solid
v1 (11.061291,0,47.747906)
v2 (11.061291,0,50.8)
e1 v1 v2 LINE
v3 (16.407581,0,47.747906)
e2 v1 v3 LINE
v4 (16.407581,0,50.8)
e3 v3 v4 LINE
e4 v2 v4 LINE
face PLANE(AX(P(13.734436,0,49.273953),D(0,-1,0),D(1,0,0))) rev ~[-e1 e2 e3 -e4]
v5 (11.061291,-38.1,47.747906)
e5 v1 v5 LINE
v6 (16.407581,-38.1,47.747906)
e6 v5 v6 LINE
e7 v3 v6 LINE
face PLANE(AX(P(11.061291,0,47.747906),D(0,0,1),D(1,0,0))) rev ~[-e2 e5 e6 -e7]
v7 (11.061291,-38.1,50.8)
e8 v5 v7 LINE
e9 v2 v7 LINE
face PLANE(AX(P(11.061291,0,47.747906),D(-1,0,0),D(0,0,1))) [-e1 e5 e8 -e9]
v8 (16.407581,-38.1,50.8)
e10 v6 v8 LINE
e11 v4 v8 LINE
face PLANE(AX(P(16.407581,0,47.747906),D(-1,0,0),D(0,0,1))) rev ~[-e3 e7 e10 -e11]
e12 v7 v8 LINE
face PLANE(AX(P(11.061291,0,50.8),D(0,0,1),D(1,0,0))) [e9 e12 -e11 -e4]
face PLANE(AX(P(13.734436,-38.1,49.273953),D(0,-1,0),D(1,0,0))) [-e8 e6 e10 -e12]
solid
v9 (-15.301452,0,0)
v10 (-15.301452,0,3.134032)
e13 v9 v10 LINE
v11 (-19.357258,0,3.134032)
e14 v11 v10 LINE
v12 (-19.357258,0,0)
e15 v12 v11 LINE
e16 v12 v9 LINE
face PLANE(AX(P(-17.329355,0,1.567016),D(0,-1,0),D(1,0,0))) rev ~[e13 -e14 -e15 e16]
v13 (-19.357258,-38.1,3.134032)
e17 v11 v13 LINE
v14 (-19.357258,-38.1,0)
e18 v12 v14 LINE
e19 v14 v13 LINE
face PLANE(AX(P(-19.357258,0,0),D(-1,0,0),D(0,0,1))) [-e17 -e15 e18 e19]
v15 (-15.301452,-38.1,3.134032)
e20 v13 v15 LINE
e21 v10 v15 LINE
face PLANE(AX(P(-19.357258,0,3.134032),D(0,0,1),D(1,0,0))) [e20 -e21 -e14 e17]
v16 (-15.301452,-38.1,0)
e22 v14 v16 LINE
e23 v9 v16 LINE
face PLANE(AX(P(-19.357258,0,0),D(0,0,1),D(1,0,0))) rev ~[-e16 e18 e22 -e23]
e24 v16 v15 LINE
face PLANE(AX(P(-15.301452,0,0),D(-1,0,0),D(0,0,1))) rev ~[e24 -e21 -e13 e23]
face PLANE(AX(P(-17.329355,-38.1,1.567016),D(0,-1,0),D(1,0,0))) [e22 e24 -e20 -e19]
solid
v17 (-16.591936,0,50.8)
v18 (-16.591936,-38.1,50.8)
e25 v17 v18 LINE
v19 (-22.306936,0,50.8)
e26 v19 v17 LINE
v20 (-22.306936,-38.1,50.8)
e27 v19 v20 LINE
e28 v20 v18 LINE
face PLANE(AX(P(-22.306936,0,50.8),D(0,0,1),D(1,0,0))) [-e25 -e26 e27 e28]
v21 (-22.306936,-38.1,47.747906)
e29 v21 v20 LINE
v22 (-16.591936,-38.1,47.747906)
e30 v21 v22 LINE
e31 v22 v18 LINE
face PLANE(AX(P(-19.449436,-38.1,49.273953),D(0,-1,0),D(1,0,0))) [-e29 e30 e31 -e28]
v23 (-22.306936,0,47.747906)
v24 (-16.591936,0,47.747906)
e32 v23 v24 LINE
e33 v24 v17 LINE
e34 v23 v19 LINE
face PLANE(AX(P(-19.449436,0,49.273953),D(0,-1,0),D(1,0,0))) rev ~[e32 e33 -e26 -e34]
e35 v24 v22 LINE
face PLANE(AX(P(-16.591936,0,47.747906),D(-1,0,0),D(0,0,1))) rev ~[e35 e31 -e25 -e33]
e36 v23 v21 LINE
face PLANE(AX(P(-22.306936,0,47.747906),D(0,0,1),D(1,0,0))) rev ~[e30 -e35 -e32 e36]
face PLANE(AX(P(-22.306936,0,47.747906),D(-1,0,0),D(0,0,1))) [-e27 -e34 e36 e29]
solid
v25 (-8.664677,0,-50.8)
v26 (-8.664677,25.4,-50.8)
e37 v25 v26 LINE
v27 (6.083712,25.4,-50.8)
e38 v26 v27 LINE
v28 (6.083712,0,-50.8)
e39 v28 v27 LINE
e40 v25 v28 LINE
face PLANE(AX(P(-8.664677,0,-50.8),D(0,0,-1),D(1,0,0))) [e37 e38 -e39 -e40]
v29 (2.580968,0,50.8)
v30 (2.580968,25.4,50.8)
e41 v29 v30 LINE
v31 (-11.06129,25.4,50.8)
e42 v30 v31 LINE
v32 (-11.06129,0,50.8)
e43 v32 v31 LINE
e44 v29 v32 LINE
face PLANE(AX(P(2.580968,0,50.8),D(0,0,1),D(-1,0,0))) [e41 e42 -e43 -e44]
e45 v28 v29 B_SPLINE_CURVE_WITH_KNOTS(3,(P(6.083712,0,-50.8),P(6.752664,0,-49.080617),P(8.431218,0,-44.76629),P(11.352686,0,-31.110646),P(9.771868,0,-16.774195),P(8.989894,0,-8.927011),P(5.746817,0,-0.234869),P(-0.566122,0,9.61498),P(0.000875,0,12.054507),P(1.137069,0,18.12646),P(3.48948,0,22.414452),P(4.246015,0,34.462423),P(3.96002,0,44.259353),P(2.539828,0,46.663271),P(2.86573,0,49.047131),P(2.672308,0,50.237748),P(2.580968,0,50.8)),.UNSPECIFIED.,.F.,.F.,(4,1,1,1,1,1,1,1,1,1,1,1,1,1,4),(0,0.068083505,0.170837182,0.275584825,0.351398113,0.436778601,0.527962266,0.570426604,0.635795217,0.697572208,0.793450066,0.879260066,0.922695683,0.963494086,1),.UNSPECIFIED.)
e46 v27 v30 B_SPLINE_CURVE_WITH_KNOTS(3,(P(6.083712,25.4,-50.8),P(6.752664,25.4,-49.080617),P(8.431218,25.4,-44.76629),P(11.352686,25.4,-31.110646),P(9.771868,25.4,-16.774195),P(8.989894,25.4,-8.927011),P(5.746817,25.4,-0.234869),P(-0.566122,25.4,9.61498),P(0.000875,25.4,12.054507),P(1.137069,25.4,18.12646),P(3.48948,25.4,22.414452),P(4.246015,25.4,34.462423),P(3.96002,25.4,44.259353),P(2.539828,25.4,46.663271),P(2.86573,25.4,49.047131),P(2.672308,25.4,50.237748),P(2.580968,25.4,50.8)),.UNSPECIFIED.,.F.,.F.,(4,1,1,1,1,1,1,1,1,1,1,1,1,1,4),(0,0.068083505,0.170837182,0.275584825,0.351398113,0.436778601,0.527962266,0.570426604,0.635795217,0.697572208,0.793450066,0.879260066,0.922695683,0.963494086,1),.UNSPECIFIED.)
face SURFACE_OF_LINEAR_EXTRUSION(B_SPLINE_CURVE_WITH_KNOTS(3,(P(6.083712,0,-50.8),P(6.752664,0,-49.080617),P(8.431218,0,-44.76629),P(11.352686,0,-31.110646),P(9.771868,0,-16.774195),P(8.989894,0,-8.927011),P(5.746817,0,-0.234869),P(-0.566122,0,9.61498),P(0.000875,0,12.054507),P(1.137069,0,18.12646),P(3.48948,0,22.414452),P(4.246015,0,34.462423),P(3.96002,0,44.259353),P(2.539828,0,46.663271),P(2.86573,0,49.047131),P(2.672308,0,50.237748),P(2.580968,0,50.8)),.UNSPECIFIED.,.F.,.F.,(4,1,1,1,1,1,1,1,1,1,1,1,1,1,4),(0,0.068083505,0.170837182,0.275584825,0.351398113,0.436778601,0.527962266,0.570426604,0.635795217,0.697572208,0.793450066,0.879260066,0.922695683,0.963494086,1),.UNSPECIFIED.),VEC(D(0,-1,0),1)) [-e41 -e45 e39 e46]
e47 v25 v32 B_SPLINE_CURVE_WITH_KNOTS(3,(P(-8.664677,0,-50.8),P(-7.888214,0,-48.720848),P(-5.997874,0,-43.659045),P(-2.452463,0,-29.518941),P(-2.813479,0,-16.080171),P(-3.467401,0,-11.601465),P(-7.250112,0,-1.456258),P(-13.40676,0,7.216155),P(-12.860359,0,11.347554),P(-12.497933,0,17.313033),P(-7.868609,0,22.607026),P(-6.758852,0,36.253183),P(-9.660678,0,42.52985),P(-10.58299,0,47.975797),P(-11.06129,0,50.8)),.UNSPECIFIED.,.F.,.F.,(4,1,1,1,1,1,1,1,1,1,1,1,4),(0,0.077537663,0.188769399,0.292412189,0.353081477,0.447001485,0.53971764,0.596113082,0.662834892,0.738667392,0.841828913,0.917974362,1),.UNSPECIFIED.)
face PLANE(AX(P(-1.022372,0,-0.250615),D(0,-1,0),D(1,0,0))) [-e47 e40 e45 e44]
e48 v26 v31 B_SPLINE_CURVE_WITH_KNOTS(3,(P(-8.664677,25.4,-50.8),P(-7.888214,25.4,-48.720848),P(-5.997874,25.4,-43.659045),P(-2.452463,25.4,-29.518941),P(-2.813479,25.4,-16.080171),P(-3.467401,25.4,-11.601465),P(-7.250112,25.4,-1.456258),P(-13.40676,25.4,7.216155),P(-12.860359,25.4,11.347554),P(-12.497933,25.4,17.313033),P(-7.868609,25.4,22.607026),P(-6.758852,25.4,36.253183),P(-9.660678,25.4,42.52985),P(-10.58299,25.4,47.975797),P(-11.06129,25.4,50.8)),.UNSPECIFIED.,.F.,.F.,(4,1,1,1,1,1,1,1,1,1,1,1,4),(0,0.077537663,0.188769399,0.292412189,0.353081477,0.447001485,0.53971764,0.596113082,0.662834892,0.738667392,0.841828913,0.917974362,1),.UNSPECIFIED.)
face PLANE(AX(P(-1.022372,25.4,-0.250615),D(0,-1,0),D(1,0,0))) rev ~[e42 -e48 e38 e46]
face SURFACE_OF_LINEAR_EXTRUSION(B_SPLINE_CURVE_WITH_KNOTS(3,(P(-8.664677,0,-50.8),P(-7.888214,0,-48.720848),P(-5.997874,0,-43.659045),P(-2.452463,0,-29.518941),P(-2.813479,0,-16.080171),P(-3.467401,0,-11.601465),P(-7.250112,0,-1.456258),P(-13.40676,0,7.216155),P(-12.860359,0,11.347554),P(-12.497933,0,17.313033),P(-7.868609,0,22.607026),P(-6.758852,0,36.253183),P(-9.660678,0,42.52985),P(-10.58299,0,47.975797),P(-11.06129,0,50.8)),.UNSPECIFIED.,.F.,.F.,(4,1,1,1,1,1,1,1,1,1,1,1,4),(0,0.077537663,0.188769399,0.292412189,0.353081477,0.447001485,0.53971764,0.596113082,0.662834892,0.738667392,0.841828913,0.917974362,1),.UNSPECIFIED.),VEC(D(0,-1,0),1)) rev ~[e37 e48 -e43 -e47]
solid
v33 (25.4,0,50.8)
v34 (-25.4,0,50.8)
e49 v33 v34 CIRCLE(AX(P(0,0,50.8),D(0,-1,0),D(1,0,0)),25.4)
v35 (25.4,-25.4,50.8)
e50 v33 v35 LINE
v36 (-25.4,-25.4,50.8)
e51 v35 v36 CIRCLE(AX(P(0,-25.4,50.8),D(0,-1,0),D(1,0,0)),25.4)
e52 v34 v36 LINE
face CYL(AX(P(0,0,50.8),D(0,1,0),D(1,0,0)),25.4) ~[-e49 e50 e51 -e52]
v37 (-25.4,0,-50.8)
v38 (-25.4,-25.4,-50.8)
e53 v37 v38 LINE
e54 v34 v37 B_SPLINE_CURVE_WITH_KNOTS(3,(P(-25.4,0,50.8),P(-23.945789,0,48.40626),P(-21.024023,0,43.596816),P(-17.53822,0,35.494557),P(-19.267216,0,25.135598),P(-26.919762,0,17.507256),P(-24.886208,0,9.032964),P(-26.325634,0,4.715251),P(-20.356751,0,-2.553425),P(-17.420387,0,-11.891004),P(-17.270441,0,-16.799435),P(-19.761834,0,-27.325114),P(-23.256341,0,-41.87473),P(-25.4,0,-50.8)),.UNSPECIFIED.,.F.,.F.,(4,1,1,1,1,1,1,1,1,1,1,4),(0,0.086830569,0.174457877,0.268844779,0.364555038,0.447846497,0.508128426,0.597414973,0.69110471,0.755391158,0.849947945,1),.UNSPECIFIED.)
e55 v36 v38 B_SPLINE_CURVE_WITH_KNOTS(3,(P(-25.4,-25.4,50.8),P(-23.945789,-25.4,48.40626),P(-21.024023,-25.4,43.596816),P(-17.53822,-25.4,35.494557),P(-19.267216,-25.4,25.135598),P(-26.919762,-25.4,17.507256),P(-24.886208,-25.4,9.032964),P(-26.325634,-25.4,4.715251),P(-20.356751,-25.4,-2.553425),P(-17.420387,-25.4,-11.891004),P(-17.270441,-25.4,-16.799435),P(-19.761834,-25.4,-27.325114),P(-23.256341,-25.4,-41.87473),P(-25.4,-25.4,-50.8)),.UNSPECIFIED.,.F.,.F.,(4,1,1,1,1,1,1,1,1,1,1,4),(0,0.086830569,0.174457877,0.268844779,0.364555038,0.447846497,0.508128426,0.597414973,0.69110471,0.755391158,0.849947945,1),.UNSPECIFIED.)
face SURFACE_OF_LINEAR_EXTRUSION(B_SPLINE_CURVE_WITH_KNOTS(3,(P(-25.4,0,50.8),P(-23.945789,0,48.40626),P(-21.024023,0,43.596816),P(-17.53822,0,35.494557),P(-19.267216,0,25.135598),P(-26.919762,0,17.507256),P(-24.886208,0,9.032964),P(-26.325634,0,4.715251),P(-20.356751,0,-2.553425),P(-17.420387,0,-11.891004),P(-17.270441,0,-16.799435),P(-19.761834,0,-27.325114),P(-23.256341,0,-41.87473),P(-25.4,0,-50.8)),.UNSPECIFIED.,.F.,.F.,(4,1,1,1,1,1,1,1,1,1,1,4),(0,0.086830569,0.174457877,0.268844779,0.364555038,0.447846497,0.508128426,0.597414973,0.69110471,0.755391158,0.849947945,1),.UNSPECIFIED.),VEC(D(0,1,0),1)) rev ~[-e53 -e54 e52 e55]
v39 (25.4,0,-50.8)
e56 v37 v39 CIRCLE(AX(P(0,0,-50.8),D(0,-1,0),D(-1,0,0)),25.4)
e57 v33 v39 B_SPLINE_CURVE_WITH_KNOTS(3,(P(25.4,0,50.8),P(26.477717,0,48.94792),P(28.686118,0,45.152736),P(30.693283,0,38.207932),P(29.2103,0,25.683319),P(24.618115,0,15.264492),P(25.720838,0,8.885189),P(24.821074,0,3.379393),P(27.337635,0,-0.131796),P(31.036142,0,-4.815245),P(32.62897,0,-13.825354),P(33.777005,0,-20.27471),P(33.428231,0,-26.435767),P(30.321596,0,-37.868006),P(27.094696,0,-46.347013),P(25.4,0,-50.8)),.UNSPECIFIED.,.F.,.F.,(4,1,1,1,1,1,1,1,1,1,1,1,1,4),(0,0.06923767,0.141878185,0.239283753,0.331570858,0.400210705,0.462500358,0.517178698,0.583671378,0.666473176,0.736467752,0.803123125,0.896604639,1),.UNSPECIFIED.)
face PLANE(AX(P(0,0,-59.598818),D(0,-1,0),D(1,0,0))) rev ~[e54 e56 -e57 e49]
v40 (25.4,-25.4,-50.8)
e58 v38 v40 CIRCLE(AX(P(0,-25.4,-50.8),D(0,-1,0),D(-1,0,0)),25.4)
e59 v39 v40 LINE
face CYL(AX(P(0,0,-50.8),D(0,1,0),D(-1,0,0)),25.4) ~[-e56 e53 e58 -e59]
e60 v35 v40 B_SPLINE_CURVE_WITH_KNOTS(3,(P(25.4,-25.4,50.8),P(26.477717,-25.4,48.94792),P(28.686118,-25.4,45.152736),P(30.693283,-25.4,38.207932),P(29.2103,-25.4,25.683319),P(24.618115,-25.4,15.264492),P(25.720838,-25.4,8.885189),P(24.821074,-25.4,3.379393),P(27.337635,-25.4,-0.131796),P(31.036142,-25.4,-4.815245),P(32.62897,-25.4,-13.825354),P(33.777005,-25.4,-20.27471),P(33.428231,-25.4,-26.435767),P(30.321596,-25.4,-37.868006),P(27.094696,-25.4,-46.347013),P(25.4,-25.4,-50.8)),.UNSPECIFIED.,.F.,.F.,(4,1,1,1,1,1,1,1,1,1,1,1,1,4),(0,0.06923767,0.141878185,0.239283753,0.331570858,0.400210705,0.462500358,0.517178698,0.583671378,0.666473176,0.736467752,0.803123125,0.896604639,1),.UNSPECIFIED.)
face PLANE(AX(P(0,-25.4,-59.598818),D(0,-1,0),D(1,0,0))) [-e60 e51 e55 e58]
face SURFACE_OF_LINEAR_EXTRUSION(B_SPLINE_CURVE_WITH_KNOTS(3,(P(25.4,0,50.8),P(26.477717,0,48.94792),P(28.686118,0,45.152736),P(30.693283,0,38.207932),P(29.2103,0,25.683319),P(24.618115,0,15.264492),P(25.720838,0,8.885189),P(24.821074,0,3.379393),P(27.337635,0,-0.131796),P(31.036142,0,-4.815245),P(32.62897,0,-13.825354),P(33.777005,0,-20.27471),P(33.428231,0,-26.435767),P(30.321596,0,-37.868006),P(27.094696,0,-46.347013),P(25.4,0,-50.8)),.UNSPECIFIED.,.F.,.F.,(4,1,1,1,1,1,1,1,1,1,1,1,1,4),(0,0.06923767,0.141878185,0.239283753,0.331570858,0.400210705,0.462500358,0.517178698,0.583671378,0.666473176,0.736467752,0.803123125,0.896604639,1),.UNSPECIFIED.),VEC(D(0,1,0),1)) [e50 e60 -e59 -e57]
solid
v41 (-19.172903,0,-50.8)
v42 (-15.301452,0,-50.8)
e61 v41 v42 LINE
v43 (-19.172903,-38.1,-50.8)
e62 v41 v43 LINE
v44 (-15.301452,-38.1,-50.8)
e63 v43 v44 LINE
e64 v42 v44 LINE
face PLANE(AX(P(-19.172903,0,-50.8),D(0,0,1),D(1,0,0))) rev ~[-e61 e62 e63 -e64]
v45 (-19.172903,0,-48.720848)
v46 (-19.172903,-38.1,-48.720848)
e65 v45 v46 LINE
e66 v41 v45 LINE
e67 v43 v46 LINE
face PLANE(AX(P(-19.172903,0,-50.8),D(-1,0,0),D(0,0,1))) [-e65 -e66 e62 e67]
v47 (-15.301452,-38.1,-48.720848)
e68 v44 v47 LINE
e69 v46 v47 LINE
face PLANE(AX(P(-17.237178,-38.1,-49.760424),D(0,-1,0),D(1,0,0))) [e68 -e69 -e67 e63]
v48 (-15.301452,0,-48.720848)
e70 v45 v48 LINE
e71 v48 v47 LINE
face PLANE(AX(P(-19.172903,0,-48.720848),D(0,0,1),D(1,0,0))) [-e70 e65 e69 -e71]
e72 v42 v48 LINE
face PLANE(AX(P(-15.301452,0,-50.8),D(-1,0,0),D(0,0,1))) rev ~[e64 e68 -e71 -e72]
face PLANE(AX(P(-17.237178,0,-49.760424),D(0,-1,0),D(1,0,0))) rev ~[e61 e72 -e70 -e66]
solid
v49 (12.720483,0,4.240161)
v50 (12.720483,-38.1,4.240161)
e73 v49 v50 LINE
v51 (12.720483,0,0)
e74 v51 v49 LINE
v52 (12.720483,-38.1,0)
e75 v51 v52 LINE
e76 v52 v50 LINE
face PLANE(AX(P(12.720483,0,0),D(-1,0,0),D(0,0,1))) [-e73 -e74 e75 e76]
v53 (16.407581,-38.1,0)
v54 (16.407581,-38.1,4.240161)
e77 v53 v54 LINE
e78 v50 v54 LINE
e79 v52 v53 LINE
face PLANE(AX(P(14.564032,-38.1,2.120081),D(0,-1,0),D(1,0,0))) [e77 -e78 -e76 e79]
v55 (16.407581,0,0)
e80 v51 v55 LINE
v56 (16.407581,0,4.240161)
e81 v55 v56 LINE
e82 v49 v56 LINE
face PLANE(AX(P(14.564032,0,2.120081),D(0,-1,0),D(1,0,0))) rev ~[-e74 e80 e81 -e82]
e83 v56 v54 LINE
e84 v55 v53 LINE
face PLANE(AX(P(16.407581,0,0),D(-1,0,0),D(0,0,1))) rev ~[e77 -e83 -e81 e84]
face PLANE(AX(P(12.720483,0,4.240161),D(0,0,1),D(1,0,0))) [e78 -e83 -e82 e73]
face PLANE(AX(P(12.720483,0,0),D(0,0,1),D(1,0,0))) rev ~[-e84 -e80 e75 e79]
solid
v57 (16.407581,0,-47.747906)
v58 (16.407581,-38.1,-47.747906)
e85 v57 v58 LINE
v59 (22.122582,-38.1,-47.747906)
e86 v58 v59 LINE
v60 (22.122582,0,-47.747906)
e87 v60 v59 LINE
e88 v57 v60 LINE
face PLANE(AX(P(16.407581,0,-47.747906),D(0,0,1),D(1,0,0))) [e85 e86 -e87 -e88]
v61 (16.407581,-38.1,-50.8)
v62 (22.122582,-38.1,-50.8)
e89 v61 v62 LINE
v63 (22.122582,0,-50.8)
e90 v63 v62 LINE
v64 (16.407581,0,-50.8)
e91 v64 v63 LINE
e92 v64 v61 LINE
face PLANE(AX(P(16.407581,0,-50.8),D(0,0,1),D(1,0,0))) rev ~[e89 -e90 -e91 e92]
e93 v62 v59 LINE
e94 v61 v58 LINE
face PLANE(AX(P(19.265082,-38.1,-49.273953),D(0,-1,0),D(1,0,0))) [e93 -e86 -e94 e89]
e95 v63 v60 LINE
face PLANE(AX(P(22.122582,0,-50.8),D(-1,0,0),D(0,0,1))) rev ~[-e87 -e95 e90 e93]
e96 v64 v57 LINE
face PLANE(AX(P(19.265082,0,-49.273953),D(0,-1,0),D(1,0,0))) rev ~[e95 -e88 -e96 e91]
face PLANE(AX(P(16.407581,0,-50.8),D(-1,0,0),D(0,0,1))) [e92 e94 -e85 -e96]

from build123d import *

# Parameters (mm, degrees)
F0_W     = 3.687097691
F0_H     = 4.2401612736
F0_W_2   = 4.0558064356
F0_H_2   = 3.1340322457
F0_W_3   = 5.7149995118
F0_H_3   = 3.0520937026
F0_W_4   = 3.871451132
F0_H_4   = 2.0791524881
F0_W_5   = 5.7150013745
F0_W_6   = 5.3462898359
F1_DEPTH = 25.4
F2_DEPTH = 25.4
F3_DEPTH = 25.4
F4_DEPTH = 38.1


with BuildPart() as f1:
    # F0 (on Front) → F1 (new body)
    with BuildSketch(Plane.XZ):
        with BuildLine():
            ThreePointArc((-25.4, -50.8), (0, -76.2), (25.4, -50.8))
            Line((25.4, -50.8), (22.1225824207, -50.8))
            Line((22.1225824207, -50.8), (16.4075810462, -50.8))
            Line((16.4075810462, -50.8), (6.0837119818, -50.8))
            Line((6.0837119818, -50.8), (-8.6646769196, -50.8))
            Line((-8.6646769196, -50.8), (-15.3014520183, -50.8))
            Line((-15.3014520183, -50.8), (-19.1729031503, -50.8))
            Line((-19.1729031503, -50.8), (-25.4, -50.8))
        make_face()
        with BuildLine():
            add(Edge.make_bspline(
                [(25.4, 50.8), (26.4777169783, 48.9479202677), (28.6861178129, 45.1527360877), (30.6932831349, 38.2079324244), (29.2102996032, 25.6833194496), (24.6181151455, 15.2644920213), (25.7208382238, 8.8851894458), (24.8210743035, 3.3793927812), (27.3376351659, -0.1317957862), (31.0361416521, -4.8152447407), (32.6289703178, -13.8253537267), (33.7770047901, -20.2747103968), (33.428230529, -26.4357670674), (30.3215961917, -37.8680055499), (27.0946961941, -46.3470134235), (25.4, -50.8)],
                knots=[0, 0, 0, 0, 0.0692376704, 0.1418781853, 0.2392837533, 0.3315708581, 0.4002107054, 0.4625003579, 0.5171786982, 0.583671378, 0.6664731761, 0.7364677518, 0.8031231248, 0.8966046387, 1, 1, 1, 1], degree=3))
            Line((25.4, 50.8), (16.4075810462, 50.8))
            Line((16.4075810462, 50.8), (16.4075810462, 47.7479062974))
            Line((16.4075810462, 47.7479062974), (11.0612912104, 47.7479062974))
            Line((11.0612912104, 47.7479062974), (11.0612912104, 50.8))
            Line((11.0612912104, 50.8), (2.5809679646, 50.8))
            add(Edge.make_bspline(
                [(6.0837119818, -50.8), (6.7526639673, -49.080617066), (8.4312184516, -44.7662895858), (11.3526863866, -31.110646258), (9.7718678352, -16.7741945721), (8.9898940513, -8.9270108424), (5.746817019, -0.2348690969), (-0.5661221974, 9.6149802874), (0.0008754514, 12.054506702), (1.1370686549, 18.126460212), (3.4894802849, 22.4144521985), (4.2460147527, 34.4624233221), (3.960019898, 44.2593532606), (2.5398283889, 46.6632712676), (2.8657296807, 49.0471311706), (2.6723084934, 50.2377475739), (2.5809679646, 50.8)],
                knots=[0, 0, 0, 0, 0.0680835046, 0.1708371819, 0.2755848247, 0.3513981135, 0.4367786008, 0.5279622658, 0.5704266042, 0.6357952172, 0.6975722078, 0.7934500663, 0.8792600663, 0.9226956826, 0.963494086, 1, 1, 1, 1], degree=3))
            Line((6.0837119818, -50.8), (16.4075810462, -50.8))
            Line((16.4075810462, -50.8), (16.4075810462, -47.7479062974))
            Line((16.4075810462, -47.7479062974), (22.1225824207, -47.7479062974))
            Line((22.1225824207, -47.7479062974), (22.1225824207, -50.8))
            Line((22.1225824207, -50.8), (25.4, -50.8))
        make_face()
        with Locations((14.5640322007, 2.1200806368)):
            Rectangle(F0_W, F0_H, mode=Mode.SUBTRACT)
        with BuildLine():
            Line((-22.3069358617, 50.8), (-25.4, 50.8))
            add(Edge.make_bspline(
                [(-25.4, 50.8), (-23.9457888424, 48.4062601984), (-21.0240229952, 43.5968161487), (-17.5382201021, 35.4945567937), (-19.2672156417, 25.1355979551), (-26.9197620067, 17.5072559241), (-24.8862082187, 9.032964073), (-26.3256337578, 4.7152512749), (-20.356751104, -2.5534247793), (-17.4203871867, -11.891004327), (-17.2704408034, -16.799434963), (-19.7618335753, -27.3251135996), (-23.2563408131, -41.8747303107), (-25.4, -50.8)],
                knots=[0, 0, 0, 0, 0.0868305692, 0.1744578772, 0.2688447789, 0.3645550375, 0.4478464969, 0.508128426, 0.5974149732, 0.6911047095, 0.7553911578, 0.8499479452, 1, 1, 1, 1], degree=3))
            Line((-25.4, -50.8), (-19.1729031503, -50.8))
            Line((-19.1729031503, -50.8), (-19.1729031503, -48.7208475119))
            Line((-19.1729031503, -48.7208475119), (-15.3014520183, -48.7208475119))
            Line((-15.3014520183, -48.7208475119), (-15.3014520183, -50.8))
            Line((-15.3014520183, -50.8), (-8.6646769196, -50.8))
            add(Edge.make_bspline(
                [(-8.6646769196, -50.8), (-7.8882136411, -48.7208475119), (-5.9978741559, -43.6590446512), (-2.4524628144, -29.5189412564), (-2.8134786099, -16.0801708021), (-3.4674009438, -11.6014648726), (-7.2501120433, -1.4562577191), (-13.4067600488, 7.2161554479), (-12.8603591818, 11.3475544545), (-12.4979329814, 17.3130331381), (-7.8686094851, 22.6070259059), (-6.7588523591, 36.2531826531), (-9.6606783541, 42.5298504496), (-10.5829903078, 47.9757970771), (-11.061290279, 50.8)],
                knots=[0, 0, 0, 0, 0.0775376634, 0.1887693993, 0.2924121888, 0.3530814771, 0.4470014848, 0.5397176399, 0.5961130824, 0.6628348922, 0.7386673918, 0.8418289129, 0.917974362, 1, 1, 1, 1], degree=3))
            Line((-11.061290279, 50.8), (-16.5919363499, 50.8))
            Line((-16.5919363499, 50.8), (-16.5919363499, 47.7479062974))
            Line((-16.5919363499, 47.7479062974), (-22.3069358617, 47.7479062974))
            Line((-22.3069358617, 47.7479062974), (-22.3069358617, 50.8))
        make_face()
        with Locations((-17.3293552361, 1.5670161229)):
            Rectangle(F0_W_2, F0_H_2, mode=Mode.SUBTRACT)
        with BuildLine():
            Line((16.4075810462, 50.8), (25.4, 50.8))
            ThreePointArc((25.4, 50.8), (0, 76.2), (-25.4, 50.8))
            Line((-25.4, 50.8), (-22.3069358617, 50.8))
            Line((-22.3069358617, 50.8), (-16.5919363499, 50.8))
            Line((-16.5919363499, 50.8), (-11.061290279, 50.8))
            Line((-11.061290279, 50.8), (2.5809679646, 50.8))
            Line((2.5809679646, 50.8), (11.0612912104, 50.8))
            Line((11.0612912104, 50.8), (16.4075810462, 50.8))
        make_face()
        with Locations((-19.4494361058, 49.2739531487)):
            Rectangle(F0_W_3, F0_H_3)
        with BuildLine():
            add(Edge.make_bspline(
                [(6.0837119818, -50.8), (6.7526639673, -49.080617066), (8.4312184516, -44.7662895858), (11.3526863866, -31.110646258), (9.7718678352, -16.7741945721), (8.9898940513, -8.9270108424), (5.746817019, -0.2348690969), (-0.5661221974, 9.6149802874), (0.0008754514, 12.054506702), (1.1370686549, 18.126460212), (3.4894802849, 22.4144521985), (4.2460147527, 34.4624233221), (3.960019898, 44.2593532606), (2.5398283889, 46.6632712676), (2.8657296807, 49.0471311706), (2.6723084934, 50.2377475739), (2.5809679646, 50.8)],
                knots=[0, 0, 0, 0, 0.0680835046, 0.1708371819, 0.2755848247, 0.3513981135, 0.4367786008, 0.5279622658, 0.5704266042, 0.6357952172, 0.6975722078, 0.7934500663, 0.8792600663, 0.9226956826, 0.963494086, 1, 1, 1, 1], degree=3))
            Line((2.5809679646, 50.8), (-11.061290279, 50.8))
            add(Edge.make_bspline(
                [(-8.6646769196, -50.8), (-7.8882136411, -48.7208475119), (-5.9978741559, -43.6590446512), (-2.4524628144, -29.5189412564), (-2.8134786099, -16.0801708021), (-3.4674009438, -11.6014648726), (-7.2501120433, -1.4562577191), (-13.4067600488, 7.2161554479), (-12.8603591818, 11.3475544545), (-12.4979329814, 17.3130331381), (-7.8686094851, 22.6070259059), (-6.7588523591, 36.2531826531), (-9.6606783541, 42.5298504496), (-10.5829903078, 47.9757970771), (-11.061290279, 50.8)],
                knots=[0, 0, 0, 0, 0.0775376634, 0.1887693993, 0.2924121888, 0.3530814771, 0.4470014848, 0.5397176399, 0.5961130824, 0.6628348922, 0.7386673918, 0.8418289129, 0.917974362, 1, 1, 1, 1], degree=3))
            Line((-8.6646769196, -50.8), (6.0837119818, -50.8))
        make_face()
        with Locations((-17.3293552361, 1.5670161229)):
            Rectangle(F0_W_2, F0_H_2)
        with Locations((-17.2371775843, -49.7604237559)):
            Rectangle(F0_W_4, F0_H_4)
        with Locations((19.2650817335, -49.2739531487)):
            Rectangle(F0_W_5, F0_H_3)
        with Locations((14.5640322007, 2.1200806368)):
            Rectangle(F0_W, F0_H)
        with Locations((13.7344361283, 49.2739531487)):
            Rectangle(F0_W_6, F0_H_3)
    extrude(amount=F1_DEPTH)

    # F0 (on Front) → F2 (join)
    with BuildSketch(Plane.XZ):
        with BuildLine():
            add(Edge.make_bspline(
                [(25.4, 50.8), (26.4777169783, 48.9479202677), (28.6861178129, 45.1527360877), (30.6932831349, 38.2079324244), (29.2102996032, 25.6833194496), (24.6181151455, 15.2644920213), (25.7208382238, 8.8851894458), (24.8210743035, 3.3793927812), (27.3376351659, -0.1317957862), (31.0361416521, -4.8152447407), (32.6289703178, -13.8253537267), (33.7770047901, -20.2747103968), (33.428230529, -26.4357670674), (30.3215961917, -37.8680055499), (27.0946961941, -46.3470134235), (25.4, -50.8)],
                knots=[0, 0, 0, 0, 0.0692376704, 0.1418781853, 0.2392837533, 0.3315708581, 0.4002107054, 0.4625003579, 0.5171786982, 0.583671378, 0.6664731761, 0.7364677518, 0.8031231248, 0.8966046387, 1, 1, 1, 1], degree=3))
            Line((25.4, 50.8), (16.4075810462, 50.8))
            Line((16.4075810462, 50.8), (16.4075810462, 47.7479062974))
            Line((16.4075810462, 47.7479062974), (11.0612912104, 47.7479062974))
            Line((11.0612912104, 47.7479062974), (11.0612912104, 50.8))
            Line((11.0612912104, 50.8), (2.5809679646, 50.8))
            add(Edge.make_bspline(
                [(6.0837119818, -50.8), (6.7526639673, -49.080617066), (8.4312184516, -44.7662895858), (11.3526863866, -31.110646258), (9.7718678352, -16.7741945721), (8.9898940513, -8.9270108424), (5.746817019, -0.2348690969), (-0.5661221974, 9.6149802874), (0.0008754514, 12.054506702), (1.1370686549, 18.126460212), (3.4894802849, 22.4144521985), (4.2460147527, 34.4624233221), (3.960019898, 44.2593532606), (2.5398283889, 46.6632712676), (2.8657296807, 49.0471311706), (2.6723084934, 50.2377475739), (2.5809679646, 50.8)],
                knots=[0, 0, 0, 0, 0.0680835046, 0.1708371819, 0.2755848247, 0.3513981135, 0.4367786008, 0.5279622658, 0.5704266042, 0.6357952172, 0.6975722078, 0.7934500663, 0.8792600663, 0.9226956826, 0.963494086, 1, 1, 1, 1], degree=3))
            Line((6.0837119818, -50.8), (16.4075810462, -50.8))
            Line((16.4075810462, -50.8), (16.4075810462, -47.7479062974))
            Line((16.4075810462, -47.7479062974), (22.1225824207, -47.7479062974))
            Line((22.1225824207, -47.7479062974), (22.1225824207, -50.8))
            Line((22.1225824207, -50.8), (25.4, -50.8))
        make_face()
        with Locations((14.5640322007, 2.1200806368)):
            Rectangle(F0_W, F0_H, mode=Mode.SUBTRACT)
        with BuildLine():
            Line((16.4075810462, 50.8), (25.4, 50.8))
            ThreePointArc((25.4, 50.8), (0, 76.2), (-25.4, 50.8))
            Line((-25.4, 50.8), (-22.3069358617, 50.8))
            Line((-22.3069358617, 50.8), (-16.5919363499, 50.8))
            Line((-16.5919363499, 50.8), (-11.061290279, 50.8))
            Line((-11.061290279, 50.8), (2.5809679646, 50.8))
            Line((2.5809679646, 50.8), (11.0612912104, 50.8))
            Line((11.0612912104, 50.8), (16.4075810462, 50.8))
        make_face()
        with BuildLine():
            Line((-22.3069358617, 50.8), (-25.4, 50.8))
            add(Edge.make_bspline(
                [(-25.4, 50.8), (-23.9457888424, 48.4062601984), (-21.0240229952, 43.5968161487), (-17.5382201021, 35.4945567937), (-19.2672156417, 25.1355979551), (-26.9197620067, 17.5072559241), (-24.8862082187, 9.032964073), (-26.3256337578, 4.7152512749), (-20.356751104, -2.5534247793), (-17.4203871867, -11.891004327), (-17.2704408034, -16.799434963), (-19.7618335753, -27.3251135996), (-23.2563408131, -41.8747303107), (-25.4, -50.8)],
                knots=[0, 0, 0, 0, 0.0868305692, 0.1744578772, 0.2688447789, 0.3645550375, 0.4478464969, 0.508128426, 0.5974149732, 0.6911047095, 0.7553911578, 0.8499479452, 1, 1, 1, 1], degree=3))
            Line((-25.4, -50.8), (-19.1729031503, -50.8))
            Line((-19.1729031503, -50.8), (-19.1729031503, -48.7208475119))
            Line((-19.1729031503, -48.7208475119), (-15.3014520183, -48.7208475119))
            Line((-15.3014520183, -48.7208475119), (-15.3014520183, -50.8))
            Line((-15.3014520183, -50.8), (-8.6646769196, -50.8))
            add(Edge.make_bspline(
                [(-8.6646769196, -50.8), (-7.8882136411, -48.7208475119), (-5.9978741559, -43.6590446512), (-2.4524628144, -29.5189412564), (-2.8134786099, -16.0801708021), (-3.4674009438, -11.6014648726), (-7.2501120433, -1.4562577191), (-13.4067600488, 7.2161554479), (-12.8603591818, 11.3475544545), (-12.4979329814, 17.3130331381), (-7.8686094851, 22.6070259059), (-6.7588523591, 36.2531826531), (-9.6606783541, 42.5298504496), (-10.5829903078, 47.9757970771), (-11.061290279, 50.8)],
                knots=[0, 0, 0, 0, 0.0775376634, 0.1887693993, 0.2924121888, 0.3530814771, 0.4470014848, 0.5397176399, 0.5961130824, 0.6628348922, 0.7386673918, 0.8418289129, 0.917974362, 1, 1, 1, 1], degree=3))
            Line((-11.061290279, 50.8), (-16.5919363499, 50.8))
            Line((-16.5919363499, 50.8), (-16.5919363499, 47.7479062974))
            Line((-16.5919363499, 47.7479062974), (-22.3069358617, 47.7479062974))
            Line((-22.3069358617, 47.7479062974), (-22.3069358617, 50.8))
        make_face()
        with Locations((-17.3293552361, 1.5670161229)):
            Rectangle(F0_W_2, F0_H_2, mode=Mode.SUBTRACT)
        with BuildLine():
            ThreePointArc((-25.4, -50.8), (0, -76.2), (25.4, -50.8))
            Line((25.4, -50.8), (22.1225824207, -50.8))
            Line((22.1225824207, -50.8), (16.4075810462, -50.8))
            Line((16.4075810462, -50.8), (6.0837119818, -50.8))
            Line((6.0837119818, -50.8), (-8.6646769196, -50.8))
            Line((-8.6646769196, -50.8), (-15.3014520183, -50.8))
            Line((-15.3014520183, -50.8), (-19.1729031503, -50.8))
            Line((-19.1729031503, -50.8), (-25.4, -50.8))
        make_face()
    extrude(amount=F2_DEPTH)


with BuildPart() as f3:
    # F0 (on Front) → F3 (new body)
    with BuildSketch(Plane.XZ):
        with BuildLine():
            add(Edge.make_bspline(
                [(6.0837119818, -50.8), (6.7526639673, -49.080617066), (8.4312184516, -44.7662895858), (11.3526863866, -31.110646258), (9.7718678352, -16.7741945721), (8.9898940513, -8.9270108424), (5.746817019, -0.2348690969), (-0.5661221974, 9.6149802874), (0.0008754514, 12.054506702), (1.1370686549, 18.126460212), (3.4894802849, 22.4144521985), (4.2460147527, 34.4624233221), (3.960019898, 44.2593532606), (2.5398283889, 46.6632712676), (2.8657296807, 49.0471311706), (2.6723084934, 50.2377475739), (2.5809679646, 50.8)],
                knots=[0, 0, 0, 0, 0.0680835046, 0.1708371819, 0.2755848247, 0.3513981135, 0.4367786008, 0.5279622658, 0.5704266042, 0.6357952172, 0.6975722078, 0.7934500663, 0.8792600663, 0.9226956826, 0.963494086, 1, 1, 1, 1], degree=3))
            Line((2.5809679646, 50.8), (-11.061290279, 50.8))
            add(Edge.make_bspline(
                [(-8.6646769196, -50.8), (-7.8882136411, -48.7208475119), (-5.9978741559, -43.6590446512), (-2.4524628144, -29.5189412564), (-2.8134786099, -16.0801708021), (-3.4674009438, -11.6014648726), (-7.2501120433, -1.4562577191), (-13.4067600488, 7.2161554479), (-12.8603591818, 11.3475544545), (-12.4979329814, 17.3130331381), (-7.8686094851, 22.6070259059), (-6.7588523591, 36.2531826531), (-9.6606783541, 42.5298504496), (-10.5829903078, 47.9757970771), (-11.061290279, 50.8)],
                knots=[0, 0, 0, 0, 0.0775376634, 0.1887693993, 0.2924121888, 0.3530814771, 0.4470014848, 0.5397176399, 0.5961130824, 0.6628348922, 0.7386673918, 0.8418289129, 0.917974362, 1, 1, 1, 1], degree=3))
            Line((-8.6646769196, -50.8), (6.0837119818, -50.8))
        make_face()
    extrude(amount=-F3_DEPTH)


with BuildPart() as f4:
    # F0 (on Front) → F4 (new body)
    with BuildSketch(Plane.XZ):
        with Locations((-19.4494361058, 49.2739531487)):
            Rectangle(F0_W_3, F0_H_3)
    extrude(amount=F4_DEPTH)


with BuildPart() as f4b:
    # F0 (on Front) → F4, piece 2 (new body)
    with BuildSketch(Plane.XZ):
        with Locations((13.7344361283, 49.2739531487)):
            Rectangle(F0_W_6, F0_H_3)
    extrude(amount=F4_DEPTH)


with BuildPart() as f4c:
    # F0 (on Front) → F4, piece 3 (new body)
    with BuildSketch(Plane.XZ):
        with Locations((14.5640322007, 2.1200806368)):
            Rectangle(F0_W, F0_H)
    extrude(amount=F4_DEPTH)


with BuildPart() as f4d:
    # F0 (on Front) → F4, piece 4 (new body)
    with BuildSketch(Plane.XZ):
        with Locations((-17.3293552361, 1.5670161229)):
            Rectangle(F0_W_2, F0_H_2)
    extrude(amount=F4_DEPTH)


with BuildPart() as f4e:
    # F0 (on Front) → F4, piece 5 (new body)
    with BuildSketch(Plane.XZ):
        with Locations((-17.2371775843, -49.7604237559)):
            Rectangle(F0_W_4, F0_H_4)
    extrude(amount=F4_DEPTH)


with BuildPart() as f4f:
    # F0 (on Front) → F4, piece 6 (new body)
    with BuildSketch(Plane.XZ):
        with Locations((19.2650817335, -49.2739531487)):
            Rectangle(F0_W_5, F0_H_3)
    extrude(amount=F4_DEPTH)


solid = Compound([f1.part, f3.part, f4.part, f4b.part, f4c.part, f4d.part, f4e.part, f4f.part])
